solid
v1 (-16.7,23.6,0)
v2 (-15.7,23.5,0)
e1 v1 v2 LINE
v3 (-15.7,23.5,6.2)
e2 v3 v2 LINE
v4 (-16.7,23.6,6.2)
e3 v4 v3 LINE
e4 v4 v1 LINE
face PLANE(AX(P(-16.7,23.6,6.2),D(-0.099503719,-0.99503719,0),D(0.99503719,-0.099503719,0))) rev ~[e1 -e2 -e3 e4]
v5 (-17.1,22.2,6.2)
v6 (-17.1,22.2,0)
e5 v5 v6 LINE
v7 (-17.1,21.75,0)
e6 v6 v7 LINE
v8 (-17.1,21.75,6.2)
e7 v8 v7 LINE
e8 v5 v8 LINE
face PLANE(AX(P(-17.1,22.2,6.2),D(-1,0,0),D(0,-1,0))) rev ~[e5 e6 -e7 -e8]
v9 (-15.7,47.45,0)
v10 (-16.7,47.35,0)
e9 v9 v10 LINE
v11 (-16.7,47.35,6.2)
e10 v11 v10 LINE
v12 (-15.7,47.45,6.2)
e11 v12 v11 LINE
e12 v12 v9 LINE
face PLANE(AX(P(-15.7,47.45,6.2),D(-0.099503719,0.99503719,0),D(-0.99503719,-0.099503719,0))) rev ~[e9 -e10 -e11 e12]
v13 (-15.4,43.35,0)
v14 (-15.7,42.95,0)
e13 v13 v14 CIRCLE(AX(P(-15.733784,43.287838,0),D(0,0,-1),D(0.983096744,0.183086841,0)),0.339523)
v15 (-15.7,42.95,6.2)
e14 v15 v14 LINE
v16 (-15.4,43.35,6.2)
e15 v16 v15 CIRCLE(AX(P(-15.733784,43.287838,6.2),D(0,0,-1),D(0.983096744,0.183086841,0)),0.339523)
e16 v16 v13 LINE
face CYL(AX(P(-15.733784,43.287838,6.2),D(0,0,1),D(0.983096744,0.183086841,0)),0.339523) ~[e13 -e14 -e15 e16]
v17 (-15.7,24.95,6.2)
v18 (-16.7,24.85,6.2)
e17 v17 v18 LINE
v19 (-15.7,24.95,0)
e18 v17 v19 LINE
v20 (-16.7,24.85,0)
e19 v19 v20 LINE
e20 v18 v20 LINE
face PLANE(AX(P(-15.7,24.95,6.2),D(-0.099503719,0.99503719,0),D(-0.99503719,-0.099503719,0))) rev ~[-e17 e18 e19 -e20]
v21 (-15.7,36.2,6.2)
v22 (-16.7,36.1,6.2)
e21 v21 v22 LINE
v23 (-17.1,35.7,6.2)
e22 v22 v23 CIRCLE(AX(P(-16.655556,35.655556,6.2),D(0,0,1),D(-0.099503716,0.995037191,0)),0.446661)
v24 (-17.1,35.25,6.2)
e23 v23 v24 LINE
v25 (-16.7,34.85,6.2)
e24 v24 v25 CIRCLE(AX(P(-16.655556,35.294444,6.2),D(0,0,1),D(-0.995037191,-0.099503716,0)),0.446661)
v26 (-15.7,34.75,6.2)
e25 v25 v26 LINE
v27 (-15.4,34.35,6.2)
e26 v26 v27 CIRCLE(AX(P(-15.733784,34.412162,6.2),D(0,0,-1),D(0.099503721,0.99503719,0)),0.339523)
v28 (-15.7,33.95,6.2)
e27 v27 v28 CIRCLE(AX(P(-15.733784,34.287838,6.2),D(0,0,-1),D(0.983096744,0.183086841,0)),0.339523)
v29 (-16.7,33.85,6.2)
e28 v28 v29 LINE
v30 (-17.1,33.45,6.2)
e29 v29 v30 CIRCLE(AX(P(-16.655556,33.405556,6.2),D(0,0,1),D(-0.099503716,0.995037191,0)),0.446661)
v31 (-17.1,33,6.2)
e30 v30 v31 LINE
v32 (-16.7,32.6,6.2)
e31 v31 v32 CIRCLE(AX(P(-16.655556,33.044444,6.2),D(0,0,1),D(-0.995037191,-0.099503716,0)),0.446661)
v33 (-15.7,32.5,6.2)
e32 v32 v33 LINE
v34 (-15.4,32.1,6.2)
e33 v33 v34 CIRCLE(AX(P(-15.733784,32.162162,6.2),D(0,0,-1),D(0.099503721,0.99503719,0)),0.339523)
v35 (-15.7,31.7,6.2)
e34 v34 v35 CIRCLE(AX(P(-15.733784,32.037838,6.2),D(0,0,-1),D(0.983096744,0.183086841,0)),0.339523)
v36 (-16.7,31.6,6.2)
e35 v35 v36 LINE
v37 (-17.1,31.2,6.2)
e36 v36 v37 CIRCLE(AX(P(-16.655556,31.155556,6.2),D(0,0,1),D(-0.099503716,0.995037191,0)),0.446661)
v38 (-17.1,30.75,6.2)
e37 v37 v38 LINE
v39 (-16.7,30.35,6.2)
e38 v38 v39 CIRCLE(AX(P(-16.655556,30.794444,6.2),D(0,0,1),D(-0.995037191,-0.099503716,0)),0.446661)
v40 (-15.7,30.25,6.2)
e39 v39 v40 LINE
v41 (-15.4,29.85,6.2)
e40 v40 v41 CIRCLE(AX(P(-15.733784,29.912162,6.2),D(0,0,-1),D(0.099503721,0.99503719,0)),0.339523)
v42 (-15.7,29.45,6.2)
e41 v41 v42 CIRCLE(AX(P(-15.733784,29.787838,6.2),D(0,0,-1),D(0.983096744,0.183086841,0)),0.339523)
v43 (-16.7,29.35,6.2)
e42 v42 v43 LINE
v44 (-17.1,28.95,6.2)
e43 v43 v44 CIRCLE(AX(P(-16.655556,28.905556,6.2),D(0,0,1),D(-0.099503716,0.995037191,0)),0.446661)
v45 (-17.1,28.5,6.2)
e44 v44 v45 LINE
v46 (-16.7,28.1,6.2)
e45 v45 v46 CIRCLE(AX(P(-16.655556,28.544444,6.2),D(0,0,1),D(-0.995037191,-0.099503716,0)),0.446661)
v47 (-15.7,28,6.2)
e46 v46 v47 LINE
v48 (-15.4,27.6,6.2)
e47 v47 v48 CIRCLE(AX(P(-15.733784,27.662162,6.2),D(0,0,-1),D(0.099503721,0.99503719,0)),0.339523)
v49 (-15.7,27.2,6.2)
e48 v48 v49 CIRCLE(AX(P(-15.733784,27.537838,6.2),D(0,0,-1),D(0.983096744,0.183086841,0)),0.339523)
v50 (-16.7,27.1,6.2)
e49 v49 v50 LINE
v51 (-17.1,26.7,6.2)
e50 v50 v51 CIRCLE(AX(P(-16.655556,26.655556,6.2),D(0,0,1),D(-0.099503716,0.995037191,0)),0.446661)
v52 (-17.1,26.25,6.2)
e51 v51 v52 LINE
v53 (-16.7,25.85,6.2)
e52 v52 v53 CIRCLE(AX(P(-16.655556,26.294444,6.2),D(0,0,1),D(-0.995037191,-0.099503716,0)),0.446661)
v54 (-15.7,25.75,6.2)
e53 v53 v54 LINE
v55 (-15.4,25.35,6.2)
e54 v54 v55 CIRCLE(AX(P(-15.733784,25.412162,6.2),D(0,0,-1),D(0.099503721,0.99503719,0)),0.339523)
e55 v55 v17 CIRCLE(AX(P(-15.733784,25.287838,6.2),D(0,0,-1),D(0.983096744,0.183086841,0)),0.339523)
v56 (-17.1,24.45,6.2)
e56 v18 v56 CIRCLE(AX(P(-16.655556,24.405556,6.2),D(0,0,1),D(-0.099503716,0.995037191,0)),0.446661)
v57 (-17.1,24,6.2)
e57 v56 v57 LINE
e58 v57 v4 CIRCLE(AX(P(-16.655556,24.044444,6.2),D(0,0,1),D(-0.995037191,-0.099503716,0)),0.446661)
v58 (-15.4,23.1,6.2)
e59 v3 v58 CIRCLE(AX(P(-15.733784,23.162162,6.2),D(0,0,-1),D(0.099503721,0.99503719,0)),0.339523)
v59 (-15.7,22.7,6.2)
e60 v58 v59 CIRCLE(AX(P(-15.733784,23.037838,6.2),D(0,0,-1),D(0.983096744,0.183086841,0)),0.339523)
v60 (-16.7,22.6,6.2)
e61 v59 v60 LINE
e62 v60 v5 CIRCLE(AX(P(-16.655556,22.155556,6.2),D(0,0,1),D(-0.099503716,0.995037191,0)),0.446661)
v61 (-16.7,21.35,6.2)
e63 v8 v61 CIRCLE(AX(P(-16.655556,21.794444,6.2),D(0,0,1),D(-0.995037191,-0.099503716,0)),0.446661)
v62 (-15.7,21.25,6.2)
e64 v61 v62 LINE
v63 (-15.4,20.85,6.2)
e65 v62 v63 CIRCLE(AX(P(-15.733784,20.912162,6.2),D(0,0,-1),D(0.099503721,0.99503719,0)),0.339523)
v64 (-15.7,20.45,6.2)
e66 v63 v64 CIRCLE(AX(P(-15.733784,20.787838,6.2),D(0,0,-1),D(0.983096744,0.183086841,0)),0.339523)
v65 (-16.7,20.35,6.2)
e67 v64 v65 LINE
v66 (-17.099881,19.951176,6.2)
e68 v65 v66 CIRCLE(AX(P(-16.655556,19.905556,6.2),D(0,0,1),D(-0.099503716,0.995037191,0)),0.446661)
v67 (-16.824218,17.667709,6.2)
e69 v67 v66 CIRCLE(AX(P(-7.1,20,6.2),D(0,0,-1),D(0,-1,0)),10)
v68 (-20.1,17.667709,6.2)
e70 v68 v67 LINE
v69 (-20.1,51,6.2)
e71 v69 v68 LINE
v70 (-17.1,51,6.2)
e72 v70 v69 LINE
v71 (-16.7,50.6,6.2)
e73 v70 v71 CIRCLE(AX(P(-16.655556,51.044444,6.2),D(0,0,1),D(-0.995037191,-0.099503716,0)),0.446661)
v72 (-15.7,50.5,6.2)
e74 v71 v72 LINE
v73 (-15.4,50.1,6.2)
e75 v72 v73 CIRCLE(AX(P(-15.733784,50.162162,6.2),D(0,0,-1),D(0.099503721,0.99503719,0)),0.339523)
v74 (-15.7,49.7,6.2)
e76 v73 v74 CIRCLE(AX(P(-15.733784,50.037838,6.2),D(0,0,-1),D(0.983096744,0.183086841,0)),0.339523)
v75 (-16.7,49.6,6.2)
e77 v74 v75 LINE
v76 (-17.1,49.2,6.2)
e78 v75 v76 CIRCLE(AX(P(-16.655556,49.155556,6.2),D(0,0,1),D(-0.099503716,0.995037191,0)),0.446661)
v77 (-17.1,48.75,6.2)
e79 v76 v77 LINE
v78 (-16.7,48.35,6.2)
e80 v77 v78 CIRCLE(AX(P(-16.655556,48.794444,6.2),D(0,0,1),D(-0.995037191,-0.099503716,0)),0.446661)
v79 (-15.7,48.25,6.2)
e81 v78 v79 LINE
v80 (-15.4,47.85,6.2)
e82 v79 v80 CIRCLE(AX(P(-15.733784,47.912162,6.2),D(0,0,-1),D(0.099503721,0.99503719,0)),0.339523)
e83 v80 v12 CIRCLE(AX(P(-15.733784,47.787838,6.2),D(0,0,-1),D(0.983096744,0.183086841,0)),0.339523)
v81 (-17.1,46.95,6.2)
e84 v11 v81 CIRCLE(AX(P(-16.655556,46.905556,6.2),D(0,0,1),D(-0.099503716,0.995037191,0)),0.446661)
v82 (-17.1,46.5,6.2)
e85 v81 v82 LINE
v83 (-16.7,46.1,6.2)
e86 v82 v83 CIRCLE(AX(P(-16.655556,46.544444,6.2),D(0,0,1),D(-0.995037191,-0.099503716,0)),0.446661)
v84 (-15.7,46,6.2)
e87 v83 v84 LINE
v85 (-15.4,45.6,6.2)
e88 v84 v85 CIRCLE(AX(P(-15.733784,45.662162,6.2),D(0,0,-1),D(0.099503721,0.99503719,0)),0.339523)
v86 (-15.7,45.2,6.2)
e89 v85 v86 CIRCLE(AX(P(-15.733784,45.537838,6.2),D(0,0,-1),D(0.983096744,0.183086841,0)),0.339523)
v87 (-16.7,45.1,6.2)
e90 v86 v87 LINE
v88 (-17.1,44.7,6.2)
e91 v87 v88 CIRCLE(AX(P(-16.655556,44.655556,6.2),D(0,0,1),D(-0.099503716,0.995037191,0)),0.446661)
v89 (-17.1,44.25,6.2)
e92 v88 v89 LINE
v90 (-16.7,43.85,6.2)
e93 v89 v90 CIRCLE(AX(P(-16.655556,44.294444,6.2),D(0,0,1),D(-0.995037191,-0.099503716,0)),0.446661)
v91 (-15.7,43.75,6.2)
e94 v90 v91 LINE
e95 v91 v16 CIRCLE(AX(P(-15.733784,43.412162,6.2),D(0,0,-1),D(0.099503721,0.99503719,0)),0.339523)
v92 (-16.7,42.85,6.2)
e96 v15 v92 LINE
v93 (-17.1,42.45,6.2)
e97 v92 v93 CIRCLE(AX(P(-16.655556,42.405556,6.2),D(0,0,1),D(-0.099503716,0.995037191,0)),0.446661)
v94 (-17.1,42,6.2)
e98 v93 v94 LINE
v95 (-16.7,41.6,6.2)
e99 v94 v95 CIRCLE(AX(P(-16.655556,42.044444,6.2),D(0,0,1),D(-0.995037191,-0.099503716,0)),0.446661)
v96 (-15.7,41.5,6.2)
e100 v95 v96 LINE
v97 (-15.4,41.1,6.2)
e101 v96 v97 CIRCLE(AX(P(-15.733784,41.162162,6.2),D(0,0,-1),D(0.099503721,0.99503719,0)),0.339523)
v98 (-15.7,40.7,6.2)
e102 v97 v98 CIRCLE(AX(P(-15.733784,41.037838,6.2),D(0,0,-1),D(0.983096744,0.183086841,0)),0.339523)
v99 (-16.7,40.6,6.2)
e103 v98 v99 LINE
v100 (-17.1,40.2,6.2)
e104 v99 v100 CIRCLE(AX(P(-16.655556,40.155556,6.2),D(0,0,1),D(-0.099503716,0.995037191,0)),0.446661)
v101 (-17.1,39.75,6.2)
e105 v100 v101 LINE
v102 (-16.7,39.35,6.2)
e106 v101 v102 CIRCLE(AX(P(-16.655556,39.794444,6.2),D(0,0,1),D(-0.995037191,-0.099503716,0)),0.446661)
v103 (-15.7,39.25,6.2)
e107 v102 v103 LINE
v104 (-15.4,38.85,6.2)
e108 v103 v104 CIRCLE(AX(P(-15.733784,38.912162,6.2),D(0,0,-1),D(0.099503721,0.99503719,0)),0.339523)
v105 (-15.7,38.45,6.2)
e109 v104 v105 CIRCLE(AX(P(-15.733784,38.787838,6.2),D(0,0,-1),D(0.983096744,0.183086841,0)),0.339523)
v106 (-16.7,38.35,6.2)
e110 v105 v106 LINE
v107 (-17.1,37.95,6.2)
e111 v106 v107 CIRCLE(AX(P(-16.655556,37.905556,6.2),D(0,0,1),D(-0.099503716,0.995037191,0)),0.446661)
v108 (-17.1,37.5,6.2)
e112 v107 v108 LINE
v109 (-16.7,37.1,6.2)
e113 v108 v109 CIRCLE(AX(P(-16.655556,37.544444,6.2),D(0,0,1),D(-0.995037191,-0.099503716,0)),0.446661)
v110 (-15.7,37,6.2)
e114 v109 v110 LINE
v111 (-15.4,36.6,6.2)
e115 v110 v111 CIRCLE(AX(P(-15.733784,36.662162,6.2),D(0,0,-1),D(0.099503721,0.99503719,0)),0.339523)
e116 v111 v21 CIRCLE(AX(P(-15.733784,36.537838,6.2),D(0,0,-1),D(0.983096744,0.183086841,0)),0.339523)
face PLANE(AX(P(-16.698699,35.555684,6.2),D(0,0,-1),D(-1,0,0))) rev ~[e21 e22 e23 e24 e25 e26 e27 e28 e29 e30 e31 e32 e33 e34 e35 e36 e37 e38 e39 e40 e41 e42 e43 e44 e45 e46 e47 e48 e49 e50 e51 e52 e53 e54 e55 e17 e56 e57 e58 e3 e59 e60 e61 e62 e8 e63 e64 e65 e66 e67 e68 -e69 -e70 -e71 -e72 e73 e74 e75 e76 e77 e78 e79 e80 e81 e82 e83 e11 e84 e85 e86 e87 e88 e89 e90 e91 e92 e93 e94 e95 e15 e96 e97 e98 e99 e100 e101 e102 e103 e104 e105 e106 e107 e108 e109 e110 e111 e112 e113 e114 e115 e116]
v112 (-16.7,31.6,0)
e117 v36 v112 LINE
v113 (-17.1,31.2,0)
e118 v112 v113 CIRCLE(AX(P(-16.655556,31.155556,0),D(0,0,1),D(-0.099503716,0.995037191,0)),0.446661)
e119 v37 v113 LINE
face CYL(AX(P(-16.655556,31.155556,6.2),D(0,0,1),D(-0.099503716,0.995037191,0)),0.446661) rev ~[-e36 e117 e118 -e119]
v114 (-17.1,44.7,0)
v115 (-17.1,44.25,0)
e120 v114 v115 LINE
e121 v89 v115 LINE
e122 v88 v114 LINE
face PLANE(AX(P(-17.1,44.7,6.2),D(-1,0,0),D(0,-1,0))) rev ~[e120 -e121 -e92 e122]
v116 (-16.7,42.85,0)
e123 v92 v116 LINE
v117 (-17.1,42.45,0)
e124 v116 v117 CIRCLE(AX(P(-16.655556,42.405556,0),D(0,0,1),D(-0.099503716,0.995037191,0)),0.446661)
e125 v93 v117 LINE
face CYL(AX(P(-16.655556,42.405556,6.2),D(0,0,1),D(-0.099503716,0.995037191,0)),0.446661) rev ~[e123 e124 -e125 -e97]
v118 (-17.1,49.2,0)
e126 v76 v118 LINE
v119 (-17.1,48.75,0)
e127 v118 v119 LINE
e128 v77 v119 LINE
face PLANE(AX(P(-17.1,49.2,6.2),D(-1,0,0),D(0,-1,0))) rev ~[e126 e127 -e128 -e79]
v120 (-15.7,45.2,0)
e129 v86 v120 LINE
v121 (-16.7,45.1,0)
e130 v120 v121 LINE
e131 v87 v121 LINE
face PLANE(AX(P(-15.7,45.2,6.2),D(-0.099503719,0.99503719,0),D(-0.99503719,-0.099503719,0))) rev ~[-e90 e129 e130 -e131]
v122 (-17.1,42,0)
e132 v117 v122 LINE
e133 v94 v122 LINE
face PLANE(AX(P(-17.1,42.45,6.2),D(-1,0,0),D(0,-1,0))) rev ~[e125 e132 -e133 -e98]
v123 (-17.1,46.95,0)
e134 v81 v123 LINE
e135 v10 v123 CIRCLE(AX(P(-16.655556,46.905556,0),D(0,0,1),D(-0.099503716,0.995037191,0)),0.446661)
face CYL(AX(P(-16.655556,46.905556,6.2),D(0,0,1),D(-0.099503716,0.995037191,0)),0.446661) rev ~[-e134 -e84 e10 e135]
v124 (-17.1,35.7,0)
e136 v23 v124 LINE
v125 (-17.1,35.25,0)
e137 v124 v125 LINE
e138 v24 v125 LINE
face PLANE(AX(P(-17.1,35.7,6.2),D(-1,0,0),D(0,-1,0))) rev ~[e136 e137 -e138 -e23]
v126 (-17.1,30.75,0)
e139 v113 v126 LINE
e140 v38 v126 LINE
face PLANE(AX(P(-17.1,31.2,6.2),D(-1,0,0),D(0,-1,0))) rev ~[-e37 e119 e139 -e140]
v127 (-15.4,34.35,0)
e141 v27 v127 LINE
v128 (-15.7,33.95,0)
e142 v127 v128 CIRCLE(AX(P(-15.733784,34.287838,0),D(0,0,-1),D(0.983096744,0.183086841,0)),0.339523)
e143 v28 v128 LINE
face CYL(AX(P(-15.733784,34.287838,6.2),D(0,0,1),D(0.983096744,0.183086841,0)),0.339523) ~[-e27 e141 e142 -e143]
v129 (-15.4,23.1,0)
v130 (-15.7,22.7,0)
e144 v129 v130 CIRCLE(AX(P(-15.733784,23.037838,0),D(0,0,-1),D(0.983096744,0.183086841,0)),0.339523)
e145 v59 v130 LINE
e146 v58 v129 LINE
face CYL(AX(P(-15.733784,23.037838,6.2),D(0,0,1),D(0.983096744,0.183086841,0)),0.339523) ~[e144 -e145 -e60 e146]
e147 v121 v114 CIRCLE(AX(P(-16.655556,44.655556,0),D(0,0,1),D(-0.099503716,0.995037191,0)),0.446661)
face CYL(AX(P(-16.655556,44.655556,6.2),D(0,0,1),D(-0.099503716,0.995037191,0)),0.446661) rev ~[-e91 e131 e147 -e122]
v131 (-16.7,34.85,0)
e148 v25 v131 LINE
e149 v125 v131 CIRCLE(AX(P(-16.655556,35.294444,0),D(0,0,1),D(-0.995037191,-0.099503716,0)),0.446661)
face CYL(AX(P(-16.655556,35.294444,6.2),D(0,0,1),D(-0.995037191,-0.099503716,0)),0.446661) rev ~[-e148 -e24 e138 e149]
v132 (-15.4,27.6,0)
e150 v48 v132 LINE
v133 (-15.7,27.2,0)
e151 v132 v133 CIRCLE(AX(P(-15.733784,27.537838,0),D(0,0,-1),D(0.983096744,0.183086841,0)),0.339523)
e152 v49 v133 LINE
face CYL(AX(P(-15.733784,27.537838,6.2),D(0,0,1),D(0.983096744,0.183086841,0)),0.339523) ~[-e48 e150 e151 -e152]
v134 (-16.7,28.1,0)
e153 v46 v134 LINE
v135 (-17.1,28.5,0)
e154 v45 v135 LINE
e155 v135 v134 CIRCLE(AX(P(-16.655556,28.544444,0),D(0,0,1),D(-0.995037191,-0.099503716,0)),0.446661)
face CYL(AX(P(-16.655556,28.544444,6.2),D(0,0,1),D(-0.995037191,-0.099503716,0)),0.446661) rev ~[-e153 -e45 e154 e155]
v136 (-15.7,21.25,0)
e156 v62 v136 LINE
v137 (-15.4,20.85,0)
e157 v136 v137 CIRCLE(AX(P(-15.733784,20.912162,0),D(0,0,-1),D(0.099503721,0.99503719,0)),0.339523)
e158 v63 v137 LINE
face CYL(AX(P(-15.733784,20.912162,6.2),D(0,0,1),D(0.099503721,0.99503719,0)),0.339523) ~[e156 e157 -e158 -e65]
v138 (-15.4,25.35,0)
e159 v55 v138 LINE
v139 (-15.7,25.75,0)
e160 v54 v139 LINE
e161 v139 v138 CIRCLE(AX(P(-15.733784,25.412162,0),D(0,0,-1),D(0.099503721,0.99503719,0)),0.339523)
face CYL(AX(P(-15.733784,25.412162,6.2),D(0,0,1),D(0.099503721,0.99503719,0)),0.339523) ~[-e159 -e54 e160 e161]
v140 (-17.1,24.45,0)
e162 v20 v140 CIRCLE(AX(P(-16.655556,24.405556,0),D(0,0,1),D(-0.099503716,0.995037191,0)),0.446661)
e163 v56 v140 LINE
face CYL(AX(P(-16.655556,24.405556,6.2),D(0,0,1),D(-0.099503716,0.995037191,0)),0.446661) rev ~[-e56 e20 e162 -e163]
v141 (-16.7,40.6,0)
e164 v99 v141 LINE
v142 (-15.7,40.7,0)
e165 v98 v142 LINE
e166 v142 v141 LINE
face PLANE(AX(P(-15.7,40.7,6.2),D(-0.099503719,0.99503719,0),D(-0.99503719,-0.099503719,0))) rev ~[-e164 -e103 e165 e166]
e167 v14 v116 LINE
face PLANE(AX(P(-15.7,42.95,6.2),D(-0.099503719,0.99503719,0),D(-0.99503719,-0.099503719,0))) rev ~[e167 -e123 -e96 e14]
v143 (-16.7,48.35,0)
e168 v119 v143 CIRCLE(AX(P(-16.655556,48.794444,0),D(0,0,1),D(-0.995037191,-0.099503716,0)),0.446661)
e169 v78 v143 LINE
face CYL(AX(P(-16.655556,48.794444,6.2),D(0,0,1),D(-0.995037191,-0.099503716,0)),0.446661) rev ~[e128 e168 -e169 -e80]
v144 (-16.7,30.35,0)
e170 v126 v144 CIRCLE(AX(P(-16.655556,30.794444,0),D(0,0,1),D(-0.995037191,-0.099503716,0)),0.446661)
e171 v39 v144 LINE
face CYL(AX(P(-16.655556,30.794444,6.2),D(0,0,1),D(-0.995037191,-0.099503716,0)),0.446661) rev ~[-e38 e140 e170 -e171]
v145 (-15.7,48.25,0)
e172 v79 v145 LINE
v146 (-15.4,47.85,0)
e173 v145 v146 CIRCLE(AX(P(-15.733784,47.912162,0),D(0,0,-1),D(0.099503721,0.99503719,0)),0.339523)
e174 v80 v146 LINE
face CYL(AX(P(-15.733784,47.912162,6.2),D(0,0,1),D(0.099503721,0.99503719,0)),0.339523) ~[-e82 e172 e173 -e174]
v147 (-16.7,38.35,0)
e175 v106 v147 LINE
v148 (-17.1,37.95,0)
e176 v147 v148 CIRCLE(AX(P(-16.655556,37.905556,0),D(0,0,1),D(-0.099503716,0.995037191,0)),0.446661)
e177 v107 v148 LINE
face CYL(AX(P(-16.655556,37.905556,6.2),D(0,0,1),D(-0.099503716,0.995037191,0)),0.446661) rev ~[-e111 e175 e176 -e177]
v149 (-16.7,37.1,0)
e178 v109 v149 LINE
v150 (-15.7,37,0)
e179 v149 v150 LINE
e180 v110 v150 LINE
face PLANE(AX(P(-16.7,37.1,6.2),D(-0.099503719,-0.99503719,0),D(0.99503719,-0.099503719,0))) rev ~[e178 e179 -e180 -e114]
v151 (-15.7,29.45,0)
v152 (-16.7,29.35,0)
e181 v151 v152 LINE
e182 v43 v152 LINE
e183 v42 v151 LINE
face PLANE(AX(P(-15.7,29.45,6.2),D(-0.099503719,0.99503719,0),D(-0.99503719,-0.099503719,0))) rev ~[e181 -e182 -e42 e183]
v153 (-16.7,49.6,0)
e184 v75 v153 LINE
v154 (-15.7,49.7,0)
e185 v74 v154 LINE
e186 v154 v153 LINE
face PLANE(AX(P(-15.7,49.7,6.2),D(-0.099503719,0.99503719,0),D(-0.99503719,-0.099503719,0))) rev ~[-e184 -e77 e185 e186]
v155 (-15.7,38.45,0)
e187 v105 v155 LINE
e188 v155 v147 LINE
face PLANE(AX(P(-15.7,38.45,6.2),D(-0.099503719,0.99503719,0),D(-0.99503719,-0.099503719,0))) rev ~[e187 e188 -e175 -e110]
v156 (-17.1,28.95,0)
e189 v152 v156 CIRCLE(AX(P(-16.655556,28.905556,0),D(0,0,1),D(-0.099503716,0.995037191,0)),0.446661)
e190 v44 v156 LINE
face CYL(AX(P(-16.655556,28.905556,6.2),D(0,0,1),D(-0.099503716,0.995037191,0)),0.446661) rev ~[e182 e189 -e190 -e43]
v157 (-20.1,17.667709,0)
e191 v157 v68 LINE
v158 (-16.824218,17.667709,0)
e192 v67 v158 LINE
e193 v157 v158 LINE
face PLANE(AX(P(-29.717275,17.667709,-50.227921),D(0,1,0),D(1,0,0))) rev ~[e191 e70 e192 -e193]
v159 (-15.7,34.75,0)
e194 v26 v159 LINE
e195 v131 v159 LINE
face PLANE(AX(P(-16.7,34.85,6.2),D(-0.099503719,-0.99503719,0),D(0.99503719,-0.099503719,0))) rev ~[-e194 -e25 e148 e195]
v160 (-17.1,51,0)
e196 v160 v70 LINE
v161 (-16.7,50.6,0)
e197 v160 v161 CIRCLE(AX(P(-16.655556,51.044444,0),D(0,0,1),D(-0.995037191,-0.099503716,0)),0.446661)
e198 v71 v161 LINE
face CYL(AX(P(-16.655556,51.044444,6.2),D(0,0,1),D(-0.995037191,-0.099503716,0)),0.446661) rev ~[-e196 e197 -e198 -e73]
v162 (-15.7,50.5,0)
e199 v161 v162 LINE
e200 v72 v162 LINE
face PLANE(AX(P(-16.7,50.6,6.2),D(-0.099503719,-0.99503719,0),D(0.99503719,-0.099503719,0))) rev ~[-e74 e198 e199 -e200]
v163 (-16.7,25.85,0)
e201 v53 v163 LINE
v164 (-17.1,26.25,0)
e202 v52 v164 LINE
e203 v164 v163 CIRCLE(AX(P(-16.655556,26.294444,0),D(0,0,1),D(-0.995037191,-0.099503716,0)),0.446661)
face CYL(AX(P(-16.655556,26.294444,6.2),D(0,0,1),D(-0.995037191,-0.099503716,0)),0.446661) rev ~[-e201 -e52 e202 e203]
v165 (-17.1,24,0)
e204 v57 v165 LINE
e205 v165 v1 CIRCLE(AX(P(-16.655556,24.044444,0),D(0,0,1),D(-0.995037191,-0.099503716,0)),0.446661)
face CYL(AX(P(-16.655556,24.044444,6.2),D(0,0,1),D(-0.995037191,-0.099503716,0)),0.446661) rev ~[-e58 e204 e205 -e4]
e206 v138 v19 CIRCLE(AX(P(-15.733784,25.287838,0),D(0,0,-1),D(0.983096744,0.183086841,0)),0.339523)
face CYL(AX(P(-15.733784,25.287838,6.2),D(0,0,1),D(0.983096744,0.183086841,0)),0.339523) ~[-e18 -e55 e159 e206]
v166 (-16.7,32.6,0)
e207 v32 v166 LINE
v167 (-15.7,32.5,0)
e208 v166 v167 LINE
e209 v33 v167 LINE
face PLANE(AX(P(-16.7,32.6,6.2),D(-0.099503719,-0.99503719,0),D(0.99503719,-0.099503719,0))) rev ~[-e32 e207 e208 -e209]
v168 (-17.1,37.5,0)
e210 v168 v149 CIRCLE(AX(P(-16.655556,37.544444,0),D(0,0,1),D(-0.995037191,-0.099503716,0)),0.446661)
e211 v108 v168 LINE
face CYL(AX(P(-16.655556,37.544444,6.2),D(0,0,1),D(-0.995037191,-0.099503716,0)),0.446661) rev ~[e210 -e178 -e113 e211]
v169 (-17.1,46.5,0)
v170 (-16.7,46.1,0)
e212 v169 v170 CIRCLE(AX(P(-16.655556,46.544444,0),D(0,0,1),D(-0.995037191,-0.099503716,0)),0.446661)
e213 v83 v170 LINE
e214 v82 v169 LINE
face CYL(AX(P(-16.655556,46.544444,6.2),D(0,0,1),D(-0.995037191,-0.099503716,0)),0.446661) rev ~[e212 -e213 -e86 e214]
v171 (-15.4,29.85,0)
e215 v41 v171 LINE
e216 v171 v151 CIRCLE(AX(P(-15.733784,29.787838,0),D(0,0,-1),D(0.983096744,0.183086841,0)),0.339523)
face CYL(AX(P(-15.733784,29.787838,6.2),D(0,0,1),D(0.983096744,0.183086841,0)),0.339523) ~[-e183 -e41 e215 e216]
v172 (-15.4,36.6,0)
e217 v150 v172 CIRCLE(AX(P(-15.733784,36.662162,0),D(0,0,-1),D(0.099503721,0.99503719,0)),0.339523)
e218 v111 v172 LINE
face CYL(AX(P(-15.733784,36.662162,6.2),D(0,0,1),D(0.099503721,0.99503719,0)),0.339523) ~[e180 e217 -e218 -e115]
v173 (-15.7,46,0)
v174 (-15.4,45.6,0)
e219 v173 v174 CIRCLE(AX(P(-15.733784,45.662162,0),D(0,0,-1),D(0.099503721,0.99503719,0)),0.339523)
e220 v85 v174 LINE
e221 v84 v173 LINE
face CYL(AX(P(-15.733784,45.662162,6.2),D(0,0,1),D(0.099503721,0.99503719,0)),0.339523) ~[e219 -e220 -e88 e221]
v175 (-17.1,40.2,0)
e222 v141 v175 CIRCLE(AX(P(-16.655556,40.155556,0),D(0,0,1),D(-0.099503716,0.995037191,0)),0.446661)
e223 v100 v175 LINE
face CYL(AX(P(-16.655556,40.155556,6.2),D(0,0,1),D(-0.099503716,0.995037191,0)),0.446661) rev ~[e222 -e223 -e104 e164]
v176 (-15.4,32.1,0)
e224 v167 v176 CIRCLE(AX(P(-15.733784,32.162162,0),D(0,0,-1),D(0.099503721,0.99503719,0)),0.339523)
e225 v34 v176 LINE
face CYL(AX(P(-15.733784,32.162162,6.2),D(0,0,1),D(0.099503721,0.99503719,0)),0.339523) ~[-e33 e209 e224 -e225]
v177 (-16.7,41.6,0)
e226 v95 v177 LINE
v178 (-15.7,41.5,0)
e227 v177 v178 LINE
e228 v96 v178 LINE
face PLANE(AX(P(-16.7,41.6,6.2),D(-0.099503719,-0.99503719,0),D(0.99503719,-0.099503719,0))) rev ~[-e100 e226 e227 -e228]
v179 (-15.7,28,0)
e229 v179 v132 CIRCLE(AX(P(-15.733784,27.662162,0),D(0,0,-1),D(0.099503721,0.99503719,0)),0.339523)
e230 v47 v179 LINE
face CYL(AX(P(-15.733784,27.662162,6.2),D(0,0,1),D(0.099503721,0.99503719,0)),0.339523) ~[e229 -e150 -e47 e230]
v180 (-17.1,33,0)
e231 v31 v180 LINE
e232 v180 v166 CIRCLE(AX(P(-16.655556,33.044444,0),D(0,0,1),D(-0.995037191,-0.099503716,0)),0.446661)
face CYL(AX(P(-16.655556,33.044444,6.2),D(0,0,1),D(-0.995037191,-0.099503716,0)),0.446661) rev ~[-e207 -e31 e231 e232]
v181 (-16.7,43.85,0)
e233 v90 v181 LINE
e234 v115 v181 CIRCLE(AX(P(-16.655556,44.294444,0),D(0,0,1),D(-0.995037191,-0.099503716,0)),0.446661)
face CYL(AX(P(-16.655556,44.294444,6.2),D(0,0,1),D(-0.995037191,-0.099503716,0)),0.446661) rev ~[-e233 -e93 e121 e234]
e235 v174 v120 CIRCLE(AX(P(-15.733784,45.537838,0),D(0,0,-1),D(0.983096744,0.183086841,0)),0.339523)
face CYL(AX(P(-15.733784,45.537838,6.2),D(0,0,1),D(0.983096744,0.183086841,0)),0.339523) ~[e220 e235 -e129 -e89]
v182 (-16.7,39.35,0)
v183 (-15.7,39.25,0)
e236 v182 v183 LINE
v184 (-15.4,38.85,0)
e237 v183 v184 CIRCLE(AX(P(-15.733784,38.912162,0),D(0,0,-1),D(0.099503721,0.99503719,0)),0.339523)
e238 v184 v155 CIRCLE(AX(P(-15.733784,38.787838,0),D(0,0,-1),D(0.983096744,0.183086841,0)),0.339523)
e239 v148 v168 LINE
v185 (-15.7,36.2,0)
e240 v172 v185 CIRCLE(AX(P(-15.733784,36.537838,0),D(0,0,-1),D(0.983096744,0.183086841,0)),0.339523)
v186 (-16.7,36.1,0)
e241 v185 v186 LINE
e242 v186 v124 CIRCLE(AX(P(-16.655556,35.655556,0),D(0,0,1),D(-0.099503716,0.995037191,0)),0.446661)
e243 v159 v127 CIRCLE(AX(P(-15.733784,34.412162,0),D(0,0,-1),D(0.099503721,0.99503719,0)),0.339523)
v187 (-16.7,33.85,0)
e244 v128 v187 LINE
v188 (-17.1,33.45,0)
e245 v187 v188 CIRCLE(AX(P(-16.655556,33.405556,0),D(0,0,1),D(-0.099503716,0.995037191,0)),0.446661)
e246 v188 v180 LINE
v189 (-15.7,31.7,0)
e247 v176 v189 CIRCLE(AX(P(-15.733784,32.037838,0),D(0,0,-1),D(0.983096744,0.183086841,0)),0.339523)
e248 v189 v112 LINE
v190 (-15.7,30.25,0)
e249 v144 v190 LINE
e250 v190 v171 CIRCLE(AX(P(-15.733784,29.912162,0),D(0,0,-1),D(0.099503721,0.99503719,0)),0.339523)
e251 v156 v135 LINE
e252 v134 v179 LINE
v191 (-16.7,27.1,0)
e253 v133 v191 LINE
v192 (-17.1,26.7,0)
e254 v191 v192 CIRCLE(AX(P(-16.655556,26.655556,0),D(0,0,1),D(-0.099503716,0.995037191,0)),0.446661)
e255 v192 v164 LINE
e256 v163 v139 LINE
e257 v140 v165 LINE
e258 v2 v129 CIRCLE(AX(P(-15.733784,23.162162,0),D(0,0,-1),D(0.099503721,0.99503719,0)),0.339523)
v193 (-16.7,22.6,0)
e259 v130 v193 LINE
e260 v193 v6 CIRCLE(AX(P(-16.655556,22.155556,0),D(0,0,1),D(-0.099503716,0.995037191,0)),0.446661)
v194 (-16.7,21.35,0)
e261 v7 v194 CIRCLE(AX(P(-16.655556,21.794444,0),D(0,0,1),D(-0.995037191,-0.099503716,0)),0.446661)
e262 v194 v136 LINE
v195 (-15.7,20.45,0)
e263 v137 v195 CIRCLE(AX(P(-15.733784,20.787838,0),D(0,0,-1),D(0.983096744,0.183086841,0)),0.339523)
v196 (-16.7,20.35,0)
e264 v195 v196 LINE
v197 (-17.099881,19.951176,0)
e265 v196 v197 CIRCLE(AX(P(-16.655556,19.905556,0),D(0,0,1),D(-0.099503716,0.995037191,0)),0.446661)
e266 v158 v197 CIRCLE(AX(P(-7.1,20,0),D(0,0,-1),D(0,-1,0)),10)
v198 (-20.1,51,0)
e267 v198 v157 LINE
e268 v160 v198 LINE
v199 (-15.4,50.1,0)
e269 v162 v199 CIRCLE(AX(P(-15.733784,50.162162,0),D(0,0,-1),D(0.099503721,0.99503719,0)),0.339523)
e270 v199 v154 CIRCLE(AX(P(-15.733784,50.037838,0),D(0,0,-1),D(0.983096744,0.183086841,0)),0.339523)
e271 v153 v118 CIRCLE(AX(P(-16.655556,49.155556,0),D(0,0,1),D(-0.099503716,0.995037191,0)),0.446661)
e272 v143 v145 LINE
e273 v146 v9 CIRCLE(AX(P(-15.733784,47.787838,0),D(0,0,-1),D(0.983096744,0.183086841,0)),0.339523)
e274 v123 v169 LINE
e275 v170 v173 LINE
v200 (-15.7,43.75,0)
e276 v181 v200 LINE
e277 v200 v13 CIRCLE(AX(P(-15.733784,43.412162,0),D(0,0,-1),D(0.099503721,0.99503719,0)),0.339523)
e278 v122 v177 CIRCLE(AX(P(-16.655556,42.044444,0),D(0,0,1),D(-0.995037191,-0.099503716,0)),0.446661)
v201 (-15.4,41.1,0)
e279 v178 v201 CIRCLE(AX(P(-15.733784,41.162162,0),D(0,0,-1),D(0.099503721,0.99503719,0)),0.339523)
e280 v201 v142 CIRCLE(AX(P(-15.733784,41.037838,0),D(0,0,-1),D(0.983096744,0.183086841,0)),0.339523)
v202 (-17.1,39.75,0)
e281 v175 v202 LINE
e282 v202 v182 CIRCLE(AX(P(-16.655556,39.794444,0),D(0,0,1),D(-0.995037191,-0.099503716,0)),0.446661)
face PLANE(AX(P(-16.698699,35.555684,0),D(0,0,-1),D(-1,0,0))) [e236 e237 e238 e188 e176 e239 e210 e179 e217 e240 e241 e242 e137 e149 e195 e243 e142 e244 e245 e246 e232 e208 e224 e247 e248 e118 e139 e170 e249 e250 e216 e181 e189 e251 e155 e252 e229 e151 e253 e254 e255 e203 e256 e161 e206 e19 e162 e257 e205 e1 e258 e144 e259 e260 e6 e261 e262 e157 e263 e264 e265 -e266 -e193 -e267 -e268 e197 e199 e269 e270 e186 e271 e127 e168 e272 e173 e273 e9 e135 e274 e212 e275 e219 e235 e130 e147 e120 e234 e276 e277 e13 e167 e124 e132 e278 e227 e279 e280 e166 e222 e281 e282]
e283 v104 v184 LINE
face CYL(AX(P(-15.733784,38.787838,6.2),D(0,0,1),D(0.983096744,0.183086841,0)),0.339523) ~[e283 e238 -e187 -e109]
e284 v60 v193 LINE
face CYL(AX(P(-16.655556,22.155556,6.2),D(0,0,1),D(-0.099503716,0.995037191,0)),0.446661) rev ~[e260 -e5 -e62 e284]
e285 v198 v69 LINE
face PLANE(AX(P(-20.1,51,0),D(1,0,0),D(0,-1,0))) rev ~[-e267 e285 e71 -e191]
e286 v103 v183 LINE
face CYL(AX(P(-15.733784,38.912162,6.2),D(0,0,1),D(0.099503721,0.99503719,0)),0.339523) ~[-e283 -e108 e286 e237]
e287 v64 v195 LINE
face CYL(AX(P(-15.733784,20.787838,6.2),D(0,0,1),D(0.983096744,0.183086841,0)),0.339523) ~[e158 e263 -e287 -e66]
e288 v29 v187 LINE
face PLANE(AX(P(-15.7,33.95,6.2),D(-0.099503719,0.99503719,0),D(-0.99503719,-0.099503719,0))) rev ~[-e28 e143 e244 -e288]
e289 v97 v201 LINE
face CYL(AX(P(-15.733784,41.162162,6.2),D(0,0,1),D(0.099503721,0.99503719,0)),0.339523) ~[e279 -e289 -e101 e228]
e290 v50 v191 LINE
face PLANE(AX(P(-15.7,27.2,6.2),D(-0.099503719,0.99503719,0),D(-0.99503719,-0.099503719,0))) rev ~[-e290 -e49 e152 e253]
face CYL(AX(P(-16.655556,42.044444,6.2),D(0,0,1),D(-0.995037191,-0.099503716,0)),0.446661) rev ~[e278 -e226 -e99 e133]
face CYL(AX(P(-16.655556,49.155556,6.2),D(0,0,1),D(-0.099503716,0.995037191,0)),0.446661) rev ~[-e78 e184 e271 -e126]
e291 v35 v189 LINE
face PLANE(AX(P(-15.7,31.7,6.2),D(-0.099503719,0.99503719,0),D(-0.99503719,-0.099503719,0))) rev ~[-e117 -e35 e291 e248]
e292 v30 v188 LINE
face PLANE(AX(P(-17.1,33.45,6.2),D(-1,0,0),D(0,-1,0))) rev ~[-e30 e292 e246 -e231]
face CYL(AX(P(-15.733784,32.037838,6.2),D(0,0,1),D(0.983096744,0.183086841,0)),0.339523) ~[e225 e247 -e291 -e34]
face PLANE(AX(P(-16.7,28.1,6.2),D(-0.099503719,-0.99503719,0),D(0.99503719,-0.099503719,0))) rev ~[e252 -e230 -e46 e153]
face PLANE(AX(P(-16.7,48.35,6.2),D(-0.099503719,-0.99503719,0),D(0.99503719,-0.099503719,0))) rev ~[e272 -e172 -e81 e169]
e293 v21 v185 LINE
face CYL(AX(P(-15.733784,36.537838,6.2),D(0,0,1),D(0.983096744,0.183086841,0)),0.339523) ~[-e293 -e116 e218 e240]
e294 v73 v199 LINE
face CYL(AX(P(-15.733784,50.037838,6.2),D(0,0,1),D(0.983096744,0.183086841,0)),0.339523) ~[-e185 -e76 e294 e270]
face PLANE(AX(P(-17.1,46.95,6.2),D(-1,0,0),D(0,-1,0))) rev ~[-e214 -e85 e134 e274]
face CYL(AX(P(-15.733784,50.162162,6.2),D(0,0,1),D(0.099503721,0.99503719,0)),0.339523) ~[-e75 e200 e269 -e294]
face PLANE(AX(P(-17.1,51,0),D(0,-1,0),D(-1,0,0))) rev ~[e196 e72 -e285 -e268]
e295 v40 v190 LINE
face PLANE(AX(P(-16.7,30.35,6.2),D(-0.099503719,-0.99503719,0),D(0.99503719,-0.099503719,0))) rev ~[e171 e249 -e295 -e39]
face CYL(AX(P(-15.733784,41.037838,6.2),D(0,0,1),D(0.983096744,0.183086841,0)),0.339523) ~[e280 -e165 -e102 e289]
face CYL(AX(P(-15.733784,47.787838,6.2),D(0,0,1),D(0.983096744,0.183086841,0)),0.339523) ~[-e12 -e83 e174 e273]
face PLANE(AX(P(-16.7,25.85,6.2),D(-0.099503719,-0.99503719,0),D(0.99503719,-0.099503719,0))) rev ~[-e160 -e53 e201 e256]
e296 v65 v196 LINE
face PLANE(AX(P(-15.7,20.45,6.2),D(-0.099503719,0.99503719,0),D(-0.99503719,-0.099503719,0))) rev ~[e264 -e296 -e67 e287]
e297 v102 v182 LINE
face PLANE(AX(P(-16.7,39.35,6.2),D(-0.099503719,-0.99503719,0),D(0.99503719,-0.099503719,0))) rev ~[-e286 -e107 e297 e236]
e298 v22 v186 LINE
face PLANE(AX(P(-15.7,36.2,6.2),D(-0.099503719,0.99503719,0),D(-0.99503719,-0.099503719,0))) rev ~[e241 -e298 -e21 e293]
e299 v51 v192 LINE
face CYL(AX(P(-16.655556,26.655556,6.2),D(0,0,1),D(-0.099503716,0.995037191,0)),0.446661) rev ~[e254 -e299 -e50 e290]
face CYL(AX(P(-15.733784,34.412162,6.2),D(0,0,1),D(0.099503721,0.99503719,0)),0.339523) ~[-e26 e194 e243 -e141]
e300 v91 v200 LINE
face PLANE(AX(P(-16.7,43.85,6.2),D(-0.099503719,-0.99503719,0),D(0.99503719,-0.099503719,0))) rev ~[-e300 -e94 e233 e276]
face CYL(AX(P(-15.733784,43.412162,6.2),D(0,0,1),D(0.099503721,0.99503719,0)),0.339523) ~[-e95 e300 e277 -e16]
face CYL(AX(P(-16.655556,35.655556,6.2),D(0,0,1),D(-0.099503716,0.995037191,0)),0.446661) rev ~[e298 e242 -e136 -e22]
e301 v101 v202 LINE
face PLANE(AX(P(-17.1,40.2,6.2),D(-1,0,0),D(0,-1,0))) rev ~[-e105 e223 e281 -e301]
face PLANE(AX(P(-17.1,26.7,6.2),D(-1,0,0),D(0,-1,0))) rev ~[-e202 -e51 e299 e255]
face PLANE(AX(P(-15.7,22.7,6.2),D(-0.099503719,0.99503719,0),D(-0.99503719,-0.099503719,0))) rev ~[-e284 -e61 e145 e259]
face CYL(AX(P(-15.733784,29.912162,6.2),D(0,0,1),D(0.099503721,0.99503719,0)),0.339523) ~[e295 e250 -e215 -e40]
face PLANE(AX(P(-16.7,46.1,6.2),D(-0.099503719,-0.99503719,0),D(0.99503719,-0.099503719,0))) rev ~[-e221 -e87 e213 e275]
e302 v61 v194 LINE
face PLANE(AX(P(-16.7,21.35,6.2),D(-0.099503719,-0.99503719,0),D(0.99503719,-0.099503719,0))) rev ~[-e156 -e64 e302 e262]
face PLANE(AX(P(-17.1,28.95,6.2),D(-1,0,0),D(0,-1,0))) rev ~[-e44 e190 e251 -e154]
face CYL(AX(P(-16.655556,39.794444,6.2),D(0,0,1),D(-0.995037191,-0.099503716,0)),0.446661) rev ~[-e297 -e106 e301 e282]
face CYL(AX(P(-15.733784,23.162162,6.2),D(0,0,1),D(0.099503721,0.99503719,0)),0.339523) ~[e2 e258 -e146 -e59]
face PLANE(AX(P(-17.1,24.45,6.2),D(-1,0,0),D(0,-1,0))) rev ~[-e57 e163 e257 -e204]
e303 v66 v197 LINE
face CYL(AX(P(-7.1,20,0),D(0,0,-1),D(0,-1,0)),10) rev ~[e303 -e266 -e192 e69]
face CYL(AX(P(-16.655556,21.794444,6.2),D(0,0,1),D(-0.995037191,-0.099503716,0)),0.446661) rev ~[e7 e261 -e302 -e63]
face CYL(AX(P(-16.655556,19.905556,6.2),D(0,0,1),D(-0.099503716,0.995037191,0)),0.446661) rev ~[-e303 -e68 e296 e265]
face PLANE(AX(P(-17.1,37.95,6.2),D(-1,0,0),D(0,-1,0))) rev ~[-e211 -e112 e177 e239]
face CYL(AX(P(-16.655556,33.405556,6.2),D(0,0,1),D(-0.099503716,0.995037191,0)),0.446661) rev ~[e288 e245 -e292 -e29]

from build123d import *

# Parameters (mm, degrees)
BOSS_EXTRUDE1_DEPTH     = 6.2
BOSS_EXTRUDE3_DEPTH     = 6.2
CUT_EXTRUDE5_DEPTH      = 59.510170056
CUT_EXTRUDE5_DEPTH_BACK = 59.510170056
SKETCH9_W               = 8.426821026
SKETCH9_H               = 53.817918331
CUT_EXTRUDE6_DEPTH      = 56.427921054
CUT_EXTRUDE6_DEPTH_BACK = 56.427921054
SKETCH10_W              = 41.255234225
SKETCH10_H              = 19.128366746


with BuildPart() as part:
    # Sketch1 → Boss-Extrude1 (new body)
    with BuildSketch(Plane.XY):
        with BuildLine():
            Line((-28, 0), (0, 0))
            Line((0, 0), (0, 10))
            Line((0, 10), (-7.1, 10))
            ThreePointArc((-7.1, 10), (-14.171067812, 12.928932188), (-17.1, 20))
            Line((-17.1, 20), (-17.1, 51))
            Line((-17.1, 51), (-20.1, 51))
            Line((-20.1, 51), (-20.1, 6))
            Line((-20.1, 6), (-24, 6))
            Line((-24, 6), (-24, 50))
            Line((-24, 50), (-28, 50))
            Line((-28, 50), (-28, 0))
        make_face()
    extrude(amount=BOSS_EXTRUDE1_DEPTH)

    # Sketch7 → Boss-Extrude3 (add)
    with BuildSketch(Plane.XY.offset(6.2)):
        with BuildLine():
            Line((-16.7, 50.6), (-15.7, 50.5))
            ThreePointArc((-15.7, 50.5), (-15.462165524, 50.365875857), (-15.4, 50.1))
            ThreePointArc((-15.4, 50.1), (-15.462165524, 49.834124143), (-15.7, 49.7))
            Line((-15.7, 49.7), (-16.7, 49.6))
            ThreePointArc((-16.7, 49.6), (-16.971392676, 49.471392676), (-17.1, 49.2))
            Line((-17.1, 49.2), (-17.1, 48.75))
            ThreePointArc((-17.1, 48.75), (-16.971392676, 48.478607324), (-16.7, 48.35))
            Line((-16.7, 48.35), (-15.7, 48.25))
            ThreePointArc((-15.7, 48.25), (-15.462165524, 48.115875857), (-15.4, 47.85))
            ThreePointArc((-15.4, 47.85), (-15.462165524, 47.584124143), (-15.7, 47.45))
            Line((-15.7, 47.45), (-16.7, 47.35))
            ThreePointArc((-16.7, 47.35), (-16.971392676, 47.221392676), (-17.1, 46.95))
            Line((-17.1, 46.95), (-17.1, 46.5))
            ThreePointArc((-17.1, 46.5), (-16.971392676, 46.228607324), (-16.7, 46.1))
            Line((-16.7, 46.1), (-15.7, 46))
            ThreePointArc((-15.7, 46), (-15.462165524, 45.865875857), (-15.4, 45.6))
            ThreePointArc((-15.4, 45.6), (-15.462165524, 45.334124143), (-15.7, 45.2))
            Line((-15.7, 45.2), (-16.7, 45.1))
            ThreePointArc((-16.7, 45.1), (-16.971392676, 44.971392676), (-17.1, 44.7))
            Line((-17.1, 44.7), (-17.1, 44.25))
            ThreePointArc((-17.1, 44.25), (-16.971392676, 43.978607324), (-16.7, 43.85))
            Line((-16.7, 43.85), (-15.7, 43.75))
            ThreePointArc((-15.7, 43.75), (-15.462165524, 43.615875857), (-15.4, 43.35))
            ThreePointArc((-15.4, 43.35), (-15.462165524, 43.084124143), (-15.7, 42.95))
            Line((-15.7, 42.95), (-16.7, 42.85))
            ThreePointArc((-16.7, 42.85), (-16.971392676, 42.721392676), (-17.1, 42.45))
            Line((-17.1, 42.45), (-17.1, 42))
            ThreePointArc((-17.1, 42), (-16.971392676, 41.728607324), (-16.7, 41.6))
            Line((-16.7, 41.6), (-15.7, 41.5))
            ThreePointArc((-15.7, 41.5), (-15.462165524, 41.365875857), (-15.4, 41.1))
            ThreePointArc((-15.4, 41.1), (-15.462165524, 40.834124143), (-15.7, 40.7))
            Line((-15.7, 40.7), (-16.7, 40.6))
            ThreePointArc((-16.7, 40.6), (-16.971392676, 40.471392676), (-17.1, 40.2))
            Line((-17.1, 40.2), (-17.1, 39.75))
            ThreePointArc((-17.1, 39.75), (-16.971392676, 39.478607324), (-16.7, 39.35))
            Line((-16.7, 39.35), (-15.7, 39.25))
            ThreePointArc((-15.7, 39.25), (-15.462165524, 39.115875857), (-15.4, 38.85))
            ThreePointArc((-15.4, 38.85), (-15.462165524, 38.584124143), (-15.7, 38.45))
            Line((-15.7, 38.45), (-16.7, 38.35))
            ThreePointArc((-16.7, 38.35), (-16.971392676, 38.221392676), (-17.1, 37.95))
            Line((-17.1, 37.95), (-17.1, 37.5))
            ThreePointArc((-17.1, 37.5), (-16.971392676, 37.228607324), (-16.7, 37.1))
            Line((-16.7, 37.1), (-15.7, 37))
            ThreePointArc((-15.7, 37), (-15.462165524, 36.865875857), (-15.4, 36.6))
            ThreePointArc((-15.4, 36.6), (-15.462165524, 36.334124143), (-15.7, 36.2))
            Line((-15.7, 36.2), (-16.7, 36.1))
            ThreePointArc((-16.7, 36.1), (-16.971392676, 35.971392676), (-17.1, 35.7))
            Line((-17.1, 35.7), (-17.1, 35.25))
            ThreePointArc((-17.1, 35.25), (-16.971392676, 34.978607324), (-16.7, 34.85))
            Line((-16.7, 34.85), (-15.7, 34.75))
            ThreePointArc((-15.7, 34.75), (-15.462165524, 34.615875857), (-15.4, 34.35))
            ThreePointArc((-15.4, 34.35), (-15.462165524, 34.084124143), (-15.7, 33.95))
            Line((-15.7, 33.95), (-16.7, 33.85))
            ThreePointArc((-16.7, 33.85), (-16.971392676, 33.721392676), (-17.1, 33.45))
            Line((-17.1, 33.45), (-17.1, 33))
            ThreePointArc((-17.1, 33), (-16.971392676, 32.728607324), (-16.7, 32.6))
            Line((-16.7, 32.6), (-15.7, 32.5))
            ThreePointArc((-15.7, 32.5), (-15.462165524, 32.365875857), (-15.4, 32.1))
            ThreePointArc((-15.4, 32.1), (-15.462165524, 31.834124143), (-15.7, 31.7))
            Line((-15.7, 31.7), (-16.7, 31.6))
            ThreePointArc((-16.7, 31.6), (-16.971392676, 31.471392676), (-17.1, 31.2))
            Line((-17.1, 31.2), (-17.1, 30.75))
            ThreePointArc((-17.1, 30.75), (-16.971392676, 30.478607324), (-16.7, 30.35))
            Line((-16.7, 30.35), (-15.7, 30.25))
            ThreePointArc((-15.7, 30.25), (-15.462165524, 30.115875857), (-15.4, 29.85))
            ThreePointArc((-15.4, 29.85), (-15.462165524, 29.584124143), (-15.7, 29.45))
            Line((-15.7, 29.45), (-16.7, 29.35))
            ThreePointArc((-16.7, 29.35), (-16.971392676, 29.221392676), (-17.1, 28.95))
            Line((-17.1, 28.95), (-17.1, 28.5))
            ThreePointArc((-17.1, 28.5), (-16.971392676, 28.228607324), (-16.7, 28.1))
            Line((-16.7, 28.1), (-15.7, 28))
            ThreePointArc((-15.7, 28), (-15.462165524, 27.865875857), (-15.4, 27.6))
            ThreePointArc((-15.4, 27.6), (-15.462165524, 27.334124143), (-15.7, 27.2))
            Line((-15.7, 27.2), (-16.7, 27.1))
            ThreePointArc((-16.7, 27.1), (-16.971392676, 26.971392676), (-17.1, 26.7))
            Line((-17.1, 26.7), (-17.1, 26.25))
            ThreePointArc((-17.1, 26.25), (-16.971392676, 25.978607324), (-16.7, 25.85))
            Line((-16.7, 25.85), (-15.7, 25.75))
            ThreePointArc((-15.7, 25.75), (-15.462165524, 25.615875857), (-15.4, 25.35))
            ThreePointArc((-15.4, 25.35), (-15.462165524, 25.084124143), (-15.7, 24.95))
            Line((-15.7, 24.95), (-16.7, 24.85))
            ThreePointArc((-16.7, 24.85), (-16.971392676, 24.721392676), (-17.1, 24.45))
            Line((-17.1, 24.45), (-17.1, 24))
            ThreePointArc((-17.1, 24), (-16.971392676, 23.728607324), (-16.7, 23.6))
            Line((-16.7, 23.6), (-15.7, 23.5))
            ThreePointArc((-15.7, 23.5), (-15.462165524, 23.365875857), (-15.4, 23.1))
            ThreePointArc((-15.4, 23.1), (-15.462165524, 22.834124143), (-15.7, 22.7))
            Line((-15.7, 22.7), (-16.7, 22.6))
            ThreePointArc((-16.7, 22.6), (-16.971392676, 22.471392676), (-17.1, 22.2))
            Line((-17.1, 22.2), (-17.1, 21.75))
            ThreePointArc((-17.1, 21.75), (-16.971392676, 21.478607324), (-16.7, 21.35))
            Line((-16.7, 21.35), (-15.7, 21.25))
            ThreePointArc((-15.7, 21.25), (-15.462165524, 21.115875857), (-15.4, 20.85))
            ThreePointArc((-15.4, 20.85), (-15.462165524, 20.584124143), (-15.7, 20.45))
            Line((-15.7, 20.45), (-16.7, 20.35))
            ThreePointArc((-16.7, 20.35), (-16.971392676, 20.221392676), (-17.1, 19.95))
            Line((-17.1, 19.95), (-17.956542174, 50.55))
            Line((-17.956542174, 50.55), (-17.1, 51))
            ThreePointArc((-17.1, 51), (-16.971392676, 50.728607324), (-16.7, 50.6))
        make_face()
    extrude(amount=-BOSS_EXTRUDE3_DEPTH)

    # Sketch9 → Cut-Extrude5 (cut, two sides: drawn at the far end of the back side and taken through both)
    with BuildSketch(Plane.XY.offset(6.2).offset(-CUT_EXTRUDE5_DEPTH_BACK)):
        with Locations((-25.017603177, 24.82792225)):
            Rectangle(SKETCH9_W, SKETCH9_H)
    extrude(amount=CUT_EXTRUDE5_DEPTH + CUT_EXTRUDE5_DEPTH_BACK, mode=Mode.SUBTRACT)

    # Sketch10 → Cut-Extrude6 (cut, two sides: drawn at the far end of the back side and taken through both)
    with BuildSketch(Plane.XY.offset(6.2).offset(-CUT_EXTRUDE6_DEPTH_BACK)):
        with Locations((-9.089657701, 8.103525919)):
            Rectangle(SKETCH10_W, SKETCH10_H)
    extrude(amount=CUT_EXTRUDE6_DEPTH + CUT_EXTRUDE6_DEPTH_BACK, mode=Mode.SUBTRACT)


solid = part.part
